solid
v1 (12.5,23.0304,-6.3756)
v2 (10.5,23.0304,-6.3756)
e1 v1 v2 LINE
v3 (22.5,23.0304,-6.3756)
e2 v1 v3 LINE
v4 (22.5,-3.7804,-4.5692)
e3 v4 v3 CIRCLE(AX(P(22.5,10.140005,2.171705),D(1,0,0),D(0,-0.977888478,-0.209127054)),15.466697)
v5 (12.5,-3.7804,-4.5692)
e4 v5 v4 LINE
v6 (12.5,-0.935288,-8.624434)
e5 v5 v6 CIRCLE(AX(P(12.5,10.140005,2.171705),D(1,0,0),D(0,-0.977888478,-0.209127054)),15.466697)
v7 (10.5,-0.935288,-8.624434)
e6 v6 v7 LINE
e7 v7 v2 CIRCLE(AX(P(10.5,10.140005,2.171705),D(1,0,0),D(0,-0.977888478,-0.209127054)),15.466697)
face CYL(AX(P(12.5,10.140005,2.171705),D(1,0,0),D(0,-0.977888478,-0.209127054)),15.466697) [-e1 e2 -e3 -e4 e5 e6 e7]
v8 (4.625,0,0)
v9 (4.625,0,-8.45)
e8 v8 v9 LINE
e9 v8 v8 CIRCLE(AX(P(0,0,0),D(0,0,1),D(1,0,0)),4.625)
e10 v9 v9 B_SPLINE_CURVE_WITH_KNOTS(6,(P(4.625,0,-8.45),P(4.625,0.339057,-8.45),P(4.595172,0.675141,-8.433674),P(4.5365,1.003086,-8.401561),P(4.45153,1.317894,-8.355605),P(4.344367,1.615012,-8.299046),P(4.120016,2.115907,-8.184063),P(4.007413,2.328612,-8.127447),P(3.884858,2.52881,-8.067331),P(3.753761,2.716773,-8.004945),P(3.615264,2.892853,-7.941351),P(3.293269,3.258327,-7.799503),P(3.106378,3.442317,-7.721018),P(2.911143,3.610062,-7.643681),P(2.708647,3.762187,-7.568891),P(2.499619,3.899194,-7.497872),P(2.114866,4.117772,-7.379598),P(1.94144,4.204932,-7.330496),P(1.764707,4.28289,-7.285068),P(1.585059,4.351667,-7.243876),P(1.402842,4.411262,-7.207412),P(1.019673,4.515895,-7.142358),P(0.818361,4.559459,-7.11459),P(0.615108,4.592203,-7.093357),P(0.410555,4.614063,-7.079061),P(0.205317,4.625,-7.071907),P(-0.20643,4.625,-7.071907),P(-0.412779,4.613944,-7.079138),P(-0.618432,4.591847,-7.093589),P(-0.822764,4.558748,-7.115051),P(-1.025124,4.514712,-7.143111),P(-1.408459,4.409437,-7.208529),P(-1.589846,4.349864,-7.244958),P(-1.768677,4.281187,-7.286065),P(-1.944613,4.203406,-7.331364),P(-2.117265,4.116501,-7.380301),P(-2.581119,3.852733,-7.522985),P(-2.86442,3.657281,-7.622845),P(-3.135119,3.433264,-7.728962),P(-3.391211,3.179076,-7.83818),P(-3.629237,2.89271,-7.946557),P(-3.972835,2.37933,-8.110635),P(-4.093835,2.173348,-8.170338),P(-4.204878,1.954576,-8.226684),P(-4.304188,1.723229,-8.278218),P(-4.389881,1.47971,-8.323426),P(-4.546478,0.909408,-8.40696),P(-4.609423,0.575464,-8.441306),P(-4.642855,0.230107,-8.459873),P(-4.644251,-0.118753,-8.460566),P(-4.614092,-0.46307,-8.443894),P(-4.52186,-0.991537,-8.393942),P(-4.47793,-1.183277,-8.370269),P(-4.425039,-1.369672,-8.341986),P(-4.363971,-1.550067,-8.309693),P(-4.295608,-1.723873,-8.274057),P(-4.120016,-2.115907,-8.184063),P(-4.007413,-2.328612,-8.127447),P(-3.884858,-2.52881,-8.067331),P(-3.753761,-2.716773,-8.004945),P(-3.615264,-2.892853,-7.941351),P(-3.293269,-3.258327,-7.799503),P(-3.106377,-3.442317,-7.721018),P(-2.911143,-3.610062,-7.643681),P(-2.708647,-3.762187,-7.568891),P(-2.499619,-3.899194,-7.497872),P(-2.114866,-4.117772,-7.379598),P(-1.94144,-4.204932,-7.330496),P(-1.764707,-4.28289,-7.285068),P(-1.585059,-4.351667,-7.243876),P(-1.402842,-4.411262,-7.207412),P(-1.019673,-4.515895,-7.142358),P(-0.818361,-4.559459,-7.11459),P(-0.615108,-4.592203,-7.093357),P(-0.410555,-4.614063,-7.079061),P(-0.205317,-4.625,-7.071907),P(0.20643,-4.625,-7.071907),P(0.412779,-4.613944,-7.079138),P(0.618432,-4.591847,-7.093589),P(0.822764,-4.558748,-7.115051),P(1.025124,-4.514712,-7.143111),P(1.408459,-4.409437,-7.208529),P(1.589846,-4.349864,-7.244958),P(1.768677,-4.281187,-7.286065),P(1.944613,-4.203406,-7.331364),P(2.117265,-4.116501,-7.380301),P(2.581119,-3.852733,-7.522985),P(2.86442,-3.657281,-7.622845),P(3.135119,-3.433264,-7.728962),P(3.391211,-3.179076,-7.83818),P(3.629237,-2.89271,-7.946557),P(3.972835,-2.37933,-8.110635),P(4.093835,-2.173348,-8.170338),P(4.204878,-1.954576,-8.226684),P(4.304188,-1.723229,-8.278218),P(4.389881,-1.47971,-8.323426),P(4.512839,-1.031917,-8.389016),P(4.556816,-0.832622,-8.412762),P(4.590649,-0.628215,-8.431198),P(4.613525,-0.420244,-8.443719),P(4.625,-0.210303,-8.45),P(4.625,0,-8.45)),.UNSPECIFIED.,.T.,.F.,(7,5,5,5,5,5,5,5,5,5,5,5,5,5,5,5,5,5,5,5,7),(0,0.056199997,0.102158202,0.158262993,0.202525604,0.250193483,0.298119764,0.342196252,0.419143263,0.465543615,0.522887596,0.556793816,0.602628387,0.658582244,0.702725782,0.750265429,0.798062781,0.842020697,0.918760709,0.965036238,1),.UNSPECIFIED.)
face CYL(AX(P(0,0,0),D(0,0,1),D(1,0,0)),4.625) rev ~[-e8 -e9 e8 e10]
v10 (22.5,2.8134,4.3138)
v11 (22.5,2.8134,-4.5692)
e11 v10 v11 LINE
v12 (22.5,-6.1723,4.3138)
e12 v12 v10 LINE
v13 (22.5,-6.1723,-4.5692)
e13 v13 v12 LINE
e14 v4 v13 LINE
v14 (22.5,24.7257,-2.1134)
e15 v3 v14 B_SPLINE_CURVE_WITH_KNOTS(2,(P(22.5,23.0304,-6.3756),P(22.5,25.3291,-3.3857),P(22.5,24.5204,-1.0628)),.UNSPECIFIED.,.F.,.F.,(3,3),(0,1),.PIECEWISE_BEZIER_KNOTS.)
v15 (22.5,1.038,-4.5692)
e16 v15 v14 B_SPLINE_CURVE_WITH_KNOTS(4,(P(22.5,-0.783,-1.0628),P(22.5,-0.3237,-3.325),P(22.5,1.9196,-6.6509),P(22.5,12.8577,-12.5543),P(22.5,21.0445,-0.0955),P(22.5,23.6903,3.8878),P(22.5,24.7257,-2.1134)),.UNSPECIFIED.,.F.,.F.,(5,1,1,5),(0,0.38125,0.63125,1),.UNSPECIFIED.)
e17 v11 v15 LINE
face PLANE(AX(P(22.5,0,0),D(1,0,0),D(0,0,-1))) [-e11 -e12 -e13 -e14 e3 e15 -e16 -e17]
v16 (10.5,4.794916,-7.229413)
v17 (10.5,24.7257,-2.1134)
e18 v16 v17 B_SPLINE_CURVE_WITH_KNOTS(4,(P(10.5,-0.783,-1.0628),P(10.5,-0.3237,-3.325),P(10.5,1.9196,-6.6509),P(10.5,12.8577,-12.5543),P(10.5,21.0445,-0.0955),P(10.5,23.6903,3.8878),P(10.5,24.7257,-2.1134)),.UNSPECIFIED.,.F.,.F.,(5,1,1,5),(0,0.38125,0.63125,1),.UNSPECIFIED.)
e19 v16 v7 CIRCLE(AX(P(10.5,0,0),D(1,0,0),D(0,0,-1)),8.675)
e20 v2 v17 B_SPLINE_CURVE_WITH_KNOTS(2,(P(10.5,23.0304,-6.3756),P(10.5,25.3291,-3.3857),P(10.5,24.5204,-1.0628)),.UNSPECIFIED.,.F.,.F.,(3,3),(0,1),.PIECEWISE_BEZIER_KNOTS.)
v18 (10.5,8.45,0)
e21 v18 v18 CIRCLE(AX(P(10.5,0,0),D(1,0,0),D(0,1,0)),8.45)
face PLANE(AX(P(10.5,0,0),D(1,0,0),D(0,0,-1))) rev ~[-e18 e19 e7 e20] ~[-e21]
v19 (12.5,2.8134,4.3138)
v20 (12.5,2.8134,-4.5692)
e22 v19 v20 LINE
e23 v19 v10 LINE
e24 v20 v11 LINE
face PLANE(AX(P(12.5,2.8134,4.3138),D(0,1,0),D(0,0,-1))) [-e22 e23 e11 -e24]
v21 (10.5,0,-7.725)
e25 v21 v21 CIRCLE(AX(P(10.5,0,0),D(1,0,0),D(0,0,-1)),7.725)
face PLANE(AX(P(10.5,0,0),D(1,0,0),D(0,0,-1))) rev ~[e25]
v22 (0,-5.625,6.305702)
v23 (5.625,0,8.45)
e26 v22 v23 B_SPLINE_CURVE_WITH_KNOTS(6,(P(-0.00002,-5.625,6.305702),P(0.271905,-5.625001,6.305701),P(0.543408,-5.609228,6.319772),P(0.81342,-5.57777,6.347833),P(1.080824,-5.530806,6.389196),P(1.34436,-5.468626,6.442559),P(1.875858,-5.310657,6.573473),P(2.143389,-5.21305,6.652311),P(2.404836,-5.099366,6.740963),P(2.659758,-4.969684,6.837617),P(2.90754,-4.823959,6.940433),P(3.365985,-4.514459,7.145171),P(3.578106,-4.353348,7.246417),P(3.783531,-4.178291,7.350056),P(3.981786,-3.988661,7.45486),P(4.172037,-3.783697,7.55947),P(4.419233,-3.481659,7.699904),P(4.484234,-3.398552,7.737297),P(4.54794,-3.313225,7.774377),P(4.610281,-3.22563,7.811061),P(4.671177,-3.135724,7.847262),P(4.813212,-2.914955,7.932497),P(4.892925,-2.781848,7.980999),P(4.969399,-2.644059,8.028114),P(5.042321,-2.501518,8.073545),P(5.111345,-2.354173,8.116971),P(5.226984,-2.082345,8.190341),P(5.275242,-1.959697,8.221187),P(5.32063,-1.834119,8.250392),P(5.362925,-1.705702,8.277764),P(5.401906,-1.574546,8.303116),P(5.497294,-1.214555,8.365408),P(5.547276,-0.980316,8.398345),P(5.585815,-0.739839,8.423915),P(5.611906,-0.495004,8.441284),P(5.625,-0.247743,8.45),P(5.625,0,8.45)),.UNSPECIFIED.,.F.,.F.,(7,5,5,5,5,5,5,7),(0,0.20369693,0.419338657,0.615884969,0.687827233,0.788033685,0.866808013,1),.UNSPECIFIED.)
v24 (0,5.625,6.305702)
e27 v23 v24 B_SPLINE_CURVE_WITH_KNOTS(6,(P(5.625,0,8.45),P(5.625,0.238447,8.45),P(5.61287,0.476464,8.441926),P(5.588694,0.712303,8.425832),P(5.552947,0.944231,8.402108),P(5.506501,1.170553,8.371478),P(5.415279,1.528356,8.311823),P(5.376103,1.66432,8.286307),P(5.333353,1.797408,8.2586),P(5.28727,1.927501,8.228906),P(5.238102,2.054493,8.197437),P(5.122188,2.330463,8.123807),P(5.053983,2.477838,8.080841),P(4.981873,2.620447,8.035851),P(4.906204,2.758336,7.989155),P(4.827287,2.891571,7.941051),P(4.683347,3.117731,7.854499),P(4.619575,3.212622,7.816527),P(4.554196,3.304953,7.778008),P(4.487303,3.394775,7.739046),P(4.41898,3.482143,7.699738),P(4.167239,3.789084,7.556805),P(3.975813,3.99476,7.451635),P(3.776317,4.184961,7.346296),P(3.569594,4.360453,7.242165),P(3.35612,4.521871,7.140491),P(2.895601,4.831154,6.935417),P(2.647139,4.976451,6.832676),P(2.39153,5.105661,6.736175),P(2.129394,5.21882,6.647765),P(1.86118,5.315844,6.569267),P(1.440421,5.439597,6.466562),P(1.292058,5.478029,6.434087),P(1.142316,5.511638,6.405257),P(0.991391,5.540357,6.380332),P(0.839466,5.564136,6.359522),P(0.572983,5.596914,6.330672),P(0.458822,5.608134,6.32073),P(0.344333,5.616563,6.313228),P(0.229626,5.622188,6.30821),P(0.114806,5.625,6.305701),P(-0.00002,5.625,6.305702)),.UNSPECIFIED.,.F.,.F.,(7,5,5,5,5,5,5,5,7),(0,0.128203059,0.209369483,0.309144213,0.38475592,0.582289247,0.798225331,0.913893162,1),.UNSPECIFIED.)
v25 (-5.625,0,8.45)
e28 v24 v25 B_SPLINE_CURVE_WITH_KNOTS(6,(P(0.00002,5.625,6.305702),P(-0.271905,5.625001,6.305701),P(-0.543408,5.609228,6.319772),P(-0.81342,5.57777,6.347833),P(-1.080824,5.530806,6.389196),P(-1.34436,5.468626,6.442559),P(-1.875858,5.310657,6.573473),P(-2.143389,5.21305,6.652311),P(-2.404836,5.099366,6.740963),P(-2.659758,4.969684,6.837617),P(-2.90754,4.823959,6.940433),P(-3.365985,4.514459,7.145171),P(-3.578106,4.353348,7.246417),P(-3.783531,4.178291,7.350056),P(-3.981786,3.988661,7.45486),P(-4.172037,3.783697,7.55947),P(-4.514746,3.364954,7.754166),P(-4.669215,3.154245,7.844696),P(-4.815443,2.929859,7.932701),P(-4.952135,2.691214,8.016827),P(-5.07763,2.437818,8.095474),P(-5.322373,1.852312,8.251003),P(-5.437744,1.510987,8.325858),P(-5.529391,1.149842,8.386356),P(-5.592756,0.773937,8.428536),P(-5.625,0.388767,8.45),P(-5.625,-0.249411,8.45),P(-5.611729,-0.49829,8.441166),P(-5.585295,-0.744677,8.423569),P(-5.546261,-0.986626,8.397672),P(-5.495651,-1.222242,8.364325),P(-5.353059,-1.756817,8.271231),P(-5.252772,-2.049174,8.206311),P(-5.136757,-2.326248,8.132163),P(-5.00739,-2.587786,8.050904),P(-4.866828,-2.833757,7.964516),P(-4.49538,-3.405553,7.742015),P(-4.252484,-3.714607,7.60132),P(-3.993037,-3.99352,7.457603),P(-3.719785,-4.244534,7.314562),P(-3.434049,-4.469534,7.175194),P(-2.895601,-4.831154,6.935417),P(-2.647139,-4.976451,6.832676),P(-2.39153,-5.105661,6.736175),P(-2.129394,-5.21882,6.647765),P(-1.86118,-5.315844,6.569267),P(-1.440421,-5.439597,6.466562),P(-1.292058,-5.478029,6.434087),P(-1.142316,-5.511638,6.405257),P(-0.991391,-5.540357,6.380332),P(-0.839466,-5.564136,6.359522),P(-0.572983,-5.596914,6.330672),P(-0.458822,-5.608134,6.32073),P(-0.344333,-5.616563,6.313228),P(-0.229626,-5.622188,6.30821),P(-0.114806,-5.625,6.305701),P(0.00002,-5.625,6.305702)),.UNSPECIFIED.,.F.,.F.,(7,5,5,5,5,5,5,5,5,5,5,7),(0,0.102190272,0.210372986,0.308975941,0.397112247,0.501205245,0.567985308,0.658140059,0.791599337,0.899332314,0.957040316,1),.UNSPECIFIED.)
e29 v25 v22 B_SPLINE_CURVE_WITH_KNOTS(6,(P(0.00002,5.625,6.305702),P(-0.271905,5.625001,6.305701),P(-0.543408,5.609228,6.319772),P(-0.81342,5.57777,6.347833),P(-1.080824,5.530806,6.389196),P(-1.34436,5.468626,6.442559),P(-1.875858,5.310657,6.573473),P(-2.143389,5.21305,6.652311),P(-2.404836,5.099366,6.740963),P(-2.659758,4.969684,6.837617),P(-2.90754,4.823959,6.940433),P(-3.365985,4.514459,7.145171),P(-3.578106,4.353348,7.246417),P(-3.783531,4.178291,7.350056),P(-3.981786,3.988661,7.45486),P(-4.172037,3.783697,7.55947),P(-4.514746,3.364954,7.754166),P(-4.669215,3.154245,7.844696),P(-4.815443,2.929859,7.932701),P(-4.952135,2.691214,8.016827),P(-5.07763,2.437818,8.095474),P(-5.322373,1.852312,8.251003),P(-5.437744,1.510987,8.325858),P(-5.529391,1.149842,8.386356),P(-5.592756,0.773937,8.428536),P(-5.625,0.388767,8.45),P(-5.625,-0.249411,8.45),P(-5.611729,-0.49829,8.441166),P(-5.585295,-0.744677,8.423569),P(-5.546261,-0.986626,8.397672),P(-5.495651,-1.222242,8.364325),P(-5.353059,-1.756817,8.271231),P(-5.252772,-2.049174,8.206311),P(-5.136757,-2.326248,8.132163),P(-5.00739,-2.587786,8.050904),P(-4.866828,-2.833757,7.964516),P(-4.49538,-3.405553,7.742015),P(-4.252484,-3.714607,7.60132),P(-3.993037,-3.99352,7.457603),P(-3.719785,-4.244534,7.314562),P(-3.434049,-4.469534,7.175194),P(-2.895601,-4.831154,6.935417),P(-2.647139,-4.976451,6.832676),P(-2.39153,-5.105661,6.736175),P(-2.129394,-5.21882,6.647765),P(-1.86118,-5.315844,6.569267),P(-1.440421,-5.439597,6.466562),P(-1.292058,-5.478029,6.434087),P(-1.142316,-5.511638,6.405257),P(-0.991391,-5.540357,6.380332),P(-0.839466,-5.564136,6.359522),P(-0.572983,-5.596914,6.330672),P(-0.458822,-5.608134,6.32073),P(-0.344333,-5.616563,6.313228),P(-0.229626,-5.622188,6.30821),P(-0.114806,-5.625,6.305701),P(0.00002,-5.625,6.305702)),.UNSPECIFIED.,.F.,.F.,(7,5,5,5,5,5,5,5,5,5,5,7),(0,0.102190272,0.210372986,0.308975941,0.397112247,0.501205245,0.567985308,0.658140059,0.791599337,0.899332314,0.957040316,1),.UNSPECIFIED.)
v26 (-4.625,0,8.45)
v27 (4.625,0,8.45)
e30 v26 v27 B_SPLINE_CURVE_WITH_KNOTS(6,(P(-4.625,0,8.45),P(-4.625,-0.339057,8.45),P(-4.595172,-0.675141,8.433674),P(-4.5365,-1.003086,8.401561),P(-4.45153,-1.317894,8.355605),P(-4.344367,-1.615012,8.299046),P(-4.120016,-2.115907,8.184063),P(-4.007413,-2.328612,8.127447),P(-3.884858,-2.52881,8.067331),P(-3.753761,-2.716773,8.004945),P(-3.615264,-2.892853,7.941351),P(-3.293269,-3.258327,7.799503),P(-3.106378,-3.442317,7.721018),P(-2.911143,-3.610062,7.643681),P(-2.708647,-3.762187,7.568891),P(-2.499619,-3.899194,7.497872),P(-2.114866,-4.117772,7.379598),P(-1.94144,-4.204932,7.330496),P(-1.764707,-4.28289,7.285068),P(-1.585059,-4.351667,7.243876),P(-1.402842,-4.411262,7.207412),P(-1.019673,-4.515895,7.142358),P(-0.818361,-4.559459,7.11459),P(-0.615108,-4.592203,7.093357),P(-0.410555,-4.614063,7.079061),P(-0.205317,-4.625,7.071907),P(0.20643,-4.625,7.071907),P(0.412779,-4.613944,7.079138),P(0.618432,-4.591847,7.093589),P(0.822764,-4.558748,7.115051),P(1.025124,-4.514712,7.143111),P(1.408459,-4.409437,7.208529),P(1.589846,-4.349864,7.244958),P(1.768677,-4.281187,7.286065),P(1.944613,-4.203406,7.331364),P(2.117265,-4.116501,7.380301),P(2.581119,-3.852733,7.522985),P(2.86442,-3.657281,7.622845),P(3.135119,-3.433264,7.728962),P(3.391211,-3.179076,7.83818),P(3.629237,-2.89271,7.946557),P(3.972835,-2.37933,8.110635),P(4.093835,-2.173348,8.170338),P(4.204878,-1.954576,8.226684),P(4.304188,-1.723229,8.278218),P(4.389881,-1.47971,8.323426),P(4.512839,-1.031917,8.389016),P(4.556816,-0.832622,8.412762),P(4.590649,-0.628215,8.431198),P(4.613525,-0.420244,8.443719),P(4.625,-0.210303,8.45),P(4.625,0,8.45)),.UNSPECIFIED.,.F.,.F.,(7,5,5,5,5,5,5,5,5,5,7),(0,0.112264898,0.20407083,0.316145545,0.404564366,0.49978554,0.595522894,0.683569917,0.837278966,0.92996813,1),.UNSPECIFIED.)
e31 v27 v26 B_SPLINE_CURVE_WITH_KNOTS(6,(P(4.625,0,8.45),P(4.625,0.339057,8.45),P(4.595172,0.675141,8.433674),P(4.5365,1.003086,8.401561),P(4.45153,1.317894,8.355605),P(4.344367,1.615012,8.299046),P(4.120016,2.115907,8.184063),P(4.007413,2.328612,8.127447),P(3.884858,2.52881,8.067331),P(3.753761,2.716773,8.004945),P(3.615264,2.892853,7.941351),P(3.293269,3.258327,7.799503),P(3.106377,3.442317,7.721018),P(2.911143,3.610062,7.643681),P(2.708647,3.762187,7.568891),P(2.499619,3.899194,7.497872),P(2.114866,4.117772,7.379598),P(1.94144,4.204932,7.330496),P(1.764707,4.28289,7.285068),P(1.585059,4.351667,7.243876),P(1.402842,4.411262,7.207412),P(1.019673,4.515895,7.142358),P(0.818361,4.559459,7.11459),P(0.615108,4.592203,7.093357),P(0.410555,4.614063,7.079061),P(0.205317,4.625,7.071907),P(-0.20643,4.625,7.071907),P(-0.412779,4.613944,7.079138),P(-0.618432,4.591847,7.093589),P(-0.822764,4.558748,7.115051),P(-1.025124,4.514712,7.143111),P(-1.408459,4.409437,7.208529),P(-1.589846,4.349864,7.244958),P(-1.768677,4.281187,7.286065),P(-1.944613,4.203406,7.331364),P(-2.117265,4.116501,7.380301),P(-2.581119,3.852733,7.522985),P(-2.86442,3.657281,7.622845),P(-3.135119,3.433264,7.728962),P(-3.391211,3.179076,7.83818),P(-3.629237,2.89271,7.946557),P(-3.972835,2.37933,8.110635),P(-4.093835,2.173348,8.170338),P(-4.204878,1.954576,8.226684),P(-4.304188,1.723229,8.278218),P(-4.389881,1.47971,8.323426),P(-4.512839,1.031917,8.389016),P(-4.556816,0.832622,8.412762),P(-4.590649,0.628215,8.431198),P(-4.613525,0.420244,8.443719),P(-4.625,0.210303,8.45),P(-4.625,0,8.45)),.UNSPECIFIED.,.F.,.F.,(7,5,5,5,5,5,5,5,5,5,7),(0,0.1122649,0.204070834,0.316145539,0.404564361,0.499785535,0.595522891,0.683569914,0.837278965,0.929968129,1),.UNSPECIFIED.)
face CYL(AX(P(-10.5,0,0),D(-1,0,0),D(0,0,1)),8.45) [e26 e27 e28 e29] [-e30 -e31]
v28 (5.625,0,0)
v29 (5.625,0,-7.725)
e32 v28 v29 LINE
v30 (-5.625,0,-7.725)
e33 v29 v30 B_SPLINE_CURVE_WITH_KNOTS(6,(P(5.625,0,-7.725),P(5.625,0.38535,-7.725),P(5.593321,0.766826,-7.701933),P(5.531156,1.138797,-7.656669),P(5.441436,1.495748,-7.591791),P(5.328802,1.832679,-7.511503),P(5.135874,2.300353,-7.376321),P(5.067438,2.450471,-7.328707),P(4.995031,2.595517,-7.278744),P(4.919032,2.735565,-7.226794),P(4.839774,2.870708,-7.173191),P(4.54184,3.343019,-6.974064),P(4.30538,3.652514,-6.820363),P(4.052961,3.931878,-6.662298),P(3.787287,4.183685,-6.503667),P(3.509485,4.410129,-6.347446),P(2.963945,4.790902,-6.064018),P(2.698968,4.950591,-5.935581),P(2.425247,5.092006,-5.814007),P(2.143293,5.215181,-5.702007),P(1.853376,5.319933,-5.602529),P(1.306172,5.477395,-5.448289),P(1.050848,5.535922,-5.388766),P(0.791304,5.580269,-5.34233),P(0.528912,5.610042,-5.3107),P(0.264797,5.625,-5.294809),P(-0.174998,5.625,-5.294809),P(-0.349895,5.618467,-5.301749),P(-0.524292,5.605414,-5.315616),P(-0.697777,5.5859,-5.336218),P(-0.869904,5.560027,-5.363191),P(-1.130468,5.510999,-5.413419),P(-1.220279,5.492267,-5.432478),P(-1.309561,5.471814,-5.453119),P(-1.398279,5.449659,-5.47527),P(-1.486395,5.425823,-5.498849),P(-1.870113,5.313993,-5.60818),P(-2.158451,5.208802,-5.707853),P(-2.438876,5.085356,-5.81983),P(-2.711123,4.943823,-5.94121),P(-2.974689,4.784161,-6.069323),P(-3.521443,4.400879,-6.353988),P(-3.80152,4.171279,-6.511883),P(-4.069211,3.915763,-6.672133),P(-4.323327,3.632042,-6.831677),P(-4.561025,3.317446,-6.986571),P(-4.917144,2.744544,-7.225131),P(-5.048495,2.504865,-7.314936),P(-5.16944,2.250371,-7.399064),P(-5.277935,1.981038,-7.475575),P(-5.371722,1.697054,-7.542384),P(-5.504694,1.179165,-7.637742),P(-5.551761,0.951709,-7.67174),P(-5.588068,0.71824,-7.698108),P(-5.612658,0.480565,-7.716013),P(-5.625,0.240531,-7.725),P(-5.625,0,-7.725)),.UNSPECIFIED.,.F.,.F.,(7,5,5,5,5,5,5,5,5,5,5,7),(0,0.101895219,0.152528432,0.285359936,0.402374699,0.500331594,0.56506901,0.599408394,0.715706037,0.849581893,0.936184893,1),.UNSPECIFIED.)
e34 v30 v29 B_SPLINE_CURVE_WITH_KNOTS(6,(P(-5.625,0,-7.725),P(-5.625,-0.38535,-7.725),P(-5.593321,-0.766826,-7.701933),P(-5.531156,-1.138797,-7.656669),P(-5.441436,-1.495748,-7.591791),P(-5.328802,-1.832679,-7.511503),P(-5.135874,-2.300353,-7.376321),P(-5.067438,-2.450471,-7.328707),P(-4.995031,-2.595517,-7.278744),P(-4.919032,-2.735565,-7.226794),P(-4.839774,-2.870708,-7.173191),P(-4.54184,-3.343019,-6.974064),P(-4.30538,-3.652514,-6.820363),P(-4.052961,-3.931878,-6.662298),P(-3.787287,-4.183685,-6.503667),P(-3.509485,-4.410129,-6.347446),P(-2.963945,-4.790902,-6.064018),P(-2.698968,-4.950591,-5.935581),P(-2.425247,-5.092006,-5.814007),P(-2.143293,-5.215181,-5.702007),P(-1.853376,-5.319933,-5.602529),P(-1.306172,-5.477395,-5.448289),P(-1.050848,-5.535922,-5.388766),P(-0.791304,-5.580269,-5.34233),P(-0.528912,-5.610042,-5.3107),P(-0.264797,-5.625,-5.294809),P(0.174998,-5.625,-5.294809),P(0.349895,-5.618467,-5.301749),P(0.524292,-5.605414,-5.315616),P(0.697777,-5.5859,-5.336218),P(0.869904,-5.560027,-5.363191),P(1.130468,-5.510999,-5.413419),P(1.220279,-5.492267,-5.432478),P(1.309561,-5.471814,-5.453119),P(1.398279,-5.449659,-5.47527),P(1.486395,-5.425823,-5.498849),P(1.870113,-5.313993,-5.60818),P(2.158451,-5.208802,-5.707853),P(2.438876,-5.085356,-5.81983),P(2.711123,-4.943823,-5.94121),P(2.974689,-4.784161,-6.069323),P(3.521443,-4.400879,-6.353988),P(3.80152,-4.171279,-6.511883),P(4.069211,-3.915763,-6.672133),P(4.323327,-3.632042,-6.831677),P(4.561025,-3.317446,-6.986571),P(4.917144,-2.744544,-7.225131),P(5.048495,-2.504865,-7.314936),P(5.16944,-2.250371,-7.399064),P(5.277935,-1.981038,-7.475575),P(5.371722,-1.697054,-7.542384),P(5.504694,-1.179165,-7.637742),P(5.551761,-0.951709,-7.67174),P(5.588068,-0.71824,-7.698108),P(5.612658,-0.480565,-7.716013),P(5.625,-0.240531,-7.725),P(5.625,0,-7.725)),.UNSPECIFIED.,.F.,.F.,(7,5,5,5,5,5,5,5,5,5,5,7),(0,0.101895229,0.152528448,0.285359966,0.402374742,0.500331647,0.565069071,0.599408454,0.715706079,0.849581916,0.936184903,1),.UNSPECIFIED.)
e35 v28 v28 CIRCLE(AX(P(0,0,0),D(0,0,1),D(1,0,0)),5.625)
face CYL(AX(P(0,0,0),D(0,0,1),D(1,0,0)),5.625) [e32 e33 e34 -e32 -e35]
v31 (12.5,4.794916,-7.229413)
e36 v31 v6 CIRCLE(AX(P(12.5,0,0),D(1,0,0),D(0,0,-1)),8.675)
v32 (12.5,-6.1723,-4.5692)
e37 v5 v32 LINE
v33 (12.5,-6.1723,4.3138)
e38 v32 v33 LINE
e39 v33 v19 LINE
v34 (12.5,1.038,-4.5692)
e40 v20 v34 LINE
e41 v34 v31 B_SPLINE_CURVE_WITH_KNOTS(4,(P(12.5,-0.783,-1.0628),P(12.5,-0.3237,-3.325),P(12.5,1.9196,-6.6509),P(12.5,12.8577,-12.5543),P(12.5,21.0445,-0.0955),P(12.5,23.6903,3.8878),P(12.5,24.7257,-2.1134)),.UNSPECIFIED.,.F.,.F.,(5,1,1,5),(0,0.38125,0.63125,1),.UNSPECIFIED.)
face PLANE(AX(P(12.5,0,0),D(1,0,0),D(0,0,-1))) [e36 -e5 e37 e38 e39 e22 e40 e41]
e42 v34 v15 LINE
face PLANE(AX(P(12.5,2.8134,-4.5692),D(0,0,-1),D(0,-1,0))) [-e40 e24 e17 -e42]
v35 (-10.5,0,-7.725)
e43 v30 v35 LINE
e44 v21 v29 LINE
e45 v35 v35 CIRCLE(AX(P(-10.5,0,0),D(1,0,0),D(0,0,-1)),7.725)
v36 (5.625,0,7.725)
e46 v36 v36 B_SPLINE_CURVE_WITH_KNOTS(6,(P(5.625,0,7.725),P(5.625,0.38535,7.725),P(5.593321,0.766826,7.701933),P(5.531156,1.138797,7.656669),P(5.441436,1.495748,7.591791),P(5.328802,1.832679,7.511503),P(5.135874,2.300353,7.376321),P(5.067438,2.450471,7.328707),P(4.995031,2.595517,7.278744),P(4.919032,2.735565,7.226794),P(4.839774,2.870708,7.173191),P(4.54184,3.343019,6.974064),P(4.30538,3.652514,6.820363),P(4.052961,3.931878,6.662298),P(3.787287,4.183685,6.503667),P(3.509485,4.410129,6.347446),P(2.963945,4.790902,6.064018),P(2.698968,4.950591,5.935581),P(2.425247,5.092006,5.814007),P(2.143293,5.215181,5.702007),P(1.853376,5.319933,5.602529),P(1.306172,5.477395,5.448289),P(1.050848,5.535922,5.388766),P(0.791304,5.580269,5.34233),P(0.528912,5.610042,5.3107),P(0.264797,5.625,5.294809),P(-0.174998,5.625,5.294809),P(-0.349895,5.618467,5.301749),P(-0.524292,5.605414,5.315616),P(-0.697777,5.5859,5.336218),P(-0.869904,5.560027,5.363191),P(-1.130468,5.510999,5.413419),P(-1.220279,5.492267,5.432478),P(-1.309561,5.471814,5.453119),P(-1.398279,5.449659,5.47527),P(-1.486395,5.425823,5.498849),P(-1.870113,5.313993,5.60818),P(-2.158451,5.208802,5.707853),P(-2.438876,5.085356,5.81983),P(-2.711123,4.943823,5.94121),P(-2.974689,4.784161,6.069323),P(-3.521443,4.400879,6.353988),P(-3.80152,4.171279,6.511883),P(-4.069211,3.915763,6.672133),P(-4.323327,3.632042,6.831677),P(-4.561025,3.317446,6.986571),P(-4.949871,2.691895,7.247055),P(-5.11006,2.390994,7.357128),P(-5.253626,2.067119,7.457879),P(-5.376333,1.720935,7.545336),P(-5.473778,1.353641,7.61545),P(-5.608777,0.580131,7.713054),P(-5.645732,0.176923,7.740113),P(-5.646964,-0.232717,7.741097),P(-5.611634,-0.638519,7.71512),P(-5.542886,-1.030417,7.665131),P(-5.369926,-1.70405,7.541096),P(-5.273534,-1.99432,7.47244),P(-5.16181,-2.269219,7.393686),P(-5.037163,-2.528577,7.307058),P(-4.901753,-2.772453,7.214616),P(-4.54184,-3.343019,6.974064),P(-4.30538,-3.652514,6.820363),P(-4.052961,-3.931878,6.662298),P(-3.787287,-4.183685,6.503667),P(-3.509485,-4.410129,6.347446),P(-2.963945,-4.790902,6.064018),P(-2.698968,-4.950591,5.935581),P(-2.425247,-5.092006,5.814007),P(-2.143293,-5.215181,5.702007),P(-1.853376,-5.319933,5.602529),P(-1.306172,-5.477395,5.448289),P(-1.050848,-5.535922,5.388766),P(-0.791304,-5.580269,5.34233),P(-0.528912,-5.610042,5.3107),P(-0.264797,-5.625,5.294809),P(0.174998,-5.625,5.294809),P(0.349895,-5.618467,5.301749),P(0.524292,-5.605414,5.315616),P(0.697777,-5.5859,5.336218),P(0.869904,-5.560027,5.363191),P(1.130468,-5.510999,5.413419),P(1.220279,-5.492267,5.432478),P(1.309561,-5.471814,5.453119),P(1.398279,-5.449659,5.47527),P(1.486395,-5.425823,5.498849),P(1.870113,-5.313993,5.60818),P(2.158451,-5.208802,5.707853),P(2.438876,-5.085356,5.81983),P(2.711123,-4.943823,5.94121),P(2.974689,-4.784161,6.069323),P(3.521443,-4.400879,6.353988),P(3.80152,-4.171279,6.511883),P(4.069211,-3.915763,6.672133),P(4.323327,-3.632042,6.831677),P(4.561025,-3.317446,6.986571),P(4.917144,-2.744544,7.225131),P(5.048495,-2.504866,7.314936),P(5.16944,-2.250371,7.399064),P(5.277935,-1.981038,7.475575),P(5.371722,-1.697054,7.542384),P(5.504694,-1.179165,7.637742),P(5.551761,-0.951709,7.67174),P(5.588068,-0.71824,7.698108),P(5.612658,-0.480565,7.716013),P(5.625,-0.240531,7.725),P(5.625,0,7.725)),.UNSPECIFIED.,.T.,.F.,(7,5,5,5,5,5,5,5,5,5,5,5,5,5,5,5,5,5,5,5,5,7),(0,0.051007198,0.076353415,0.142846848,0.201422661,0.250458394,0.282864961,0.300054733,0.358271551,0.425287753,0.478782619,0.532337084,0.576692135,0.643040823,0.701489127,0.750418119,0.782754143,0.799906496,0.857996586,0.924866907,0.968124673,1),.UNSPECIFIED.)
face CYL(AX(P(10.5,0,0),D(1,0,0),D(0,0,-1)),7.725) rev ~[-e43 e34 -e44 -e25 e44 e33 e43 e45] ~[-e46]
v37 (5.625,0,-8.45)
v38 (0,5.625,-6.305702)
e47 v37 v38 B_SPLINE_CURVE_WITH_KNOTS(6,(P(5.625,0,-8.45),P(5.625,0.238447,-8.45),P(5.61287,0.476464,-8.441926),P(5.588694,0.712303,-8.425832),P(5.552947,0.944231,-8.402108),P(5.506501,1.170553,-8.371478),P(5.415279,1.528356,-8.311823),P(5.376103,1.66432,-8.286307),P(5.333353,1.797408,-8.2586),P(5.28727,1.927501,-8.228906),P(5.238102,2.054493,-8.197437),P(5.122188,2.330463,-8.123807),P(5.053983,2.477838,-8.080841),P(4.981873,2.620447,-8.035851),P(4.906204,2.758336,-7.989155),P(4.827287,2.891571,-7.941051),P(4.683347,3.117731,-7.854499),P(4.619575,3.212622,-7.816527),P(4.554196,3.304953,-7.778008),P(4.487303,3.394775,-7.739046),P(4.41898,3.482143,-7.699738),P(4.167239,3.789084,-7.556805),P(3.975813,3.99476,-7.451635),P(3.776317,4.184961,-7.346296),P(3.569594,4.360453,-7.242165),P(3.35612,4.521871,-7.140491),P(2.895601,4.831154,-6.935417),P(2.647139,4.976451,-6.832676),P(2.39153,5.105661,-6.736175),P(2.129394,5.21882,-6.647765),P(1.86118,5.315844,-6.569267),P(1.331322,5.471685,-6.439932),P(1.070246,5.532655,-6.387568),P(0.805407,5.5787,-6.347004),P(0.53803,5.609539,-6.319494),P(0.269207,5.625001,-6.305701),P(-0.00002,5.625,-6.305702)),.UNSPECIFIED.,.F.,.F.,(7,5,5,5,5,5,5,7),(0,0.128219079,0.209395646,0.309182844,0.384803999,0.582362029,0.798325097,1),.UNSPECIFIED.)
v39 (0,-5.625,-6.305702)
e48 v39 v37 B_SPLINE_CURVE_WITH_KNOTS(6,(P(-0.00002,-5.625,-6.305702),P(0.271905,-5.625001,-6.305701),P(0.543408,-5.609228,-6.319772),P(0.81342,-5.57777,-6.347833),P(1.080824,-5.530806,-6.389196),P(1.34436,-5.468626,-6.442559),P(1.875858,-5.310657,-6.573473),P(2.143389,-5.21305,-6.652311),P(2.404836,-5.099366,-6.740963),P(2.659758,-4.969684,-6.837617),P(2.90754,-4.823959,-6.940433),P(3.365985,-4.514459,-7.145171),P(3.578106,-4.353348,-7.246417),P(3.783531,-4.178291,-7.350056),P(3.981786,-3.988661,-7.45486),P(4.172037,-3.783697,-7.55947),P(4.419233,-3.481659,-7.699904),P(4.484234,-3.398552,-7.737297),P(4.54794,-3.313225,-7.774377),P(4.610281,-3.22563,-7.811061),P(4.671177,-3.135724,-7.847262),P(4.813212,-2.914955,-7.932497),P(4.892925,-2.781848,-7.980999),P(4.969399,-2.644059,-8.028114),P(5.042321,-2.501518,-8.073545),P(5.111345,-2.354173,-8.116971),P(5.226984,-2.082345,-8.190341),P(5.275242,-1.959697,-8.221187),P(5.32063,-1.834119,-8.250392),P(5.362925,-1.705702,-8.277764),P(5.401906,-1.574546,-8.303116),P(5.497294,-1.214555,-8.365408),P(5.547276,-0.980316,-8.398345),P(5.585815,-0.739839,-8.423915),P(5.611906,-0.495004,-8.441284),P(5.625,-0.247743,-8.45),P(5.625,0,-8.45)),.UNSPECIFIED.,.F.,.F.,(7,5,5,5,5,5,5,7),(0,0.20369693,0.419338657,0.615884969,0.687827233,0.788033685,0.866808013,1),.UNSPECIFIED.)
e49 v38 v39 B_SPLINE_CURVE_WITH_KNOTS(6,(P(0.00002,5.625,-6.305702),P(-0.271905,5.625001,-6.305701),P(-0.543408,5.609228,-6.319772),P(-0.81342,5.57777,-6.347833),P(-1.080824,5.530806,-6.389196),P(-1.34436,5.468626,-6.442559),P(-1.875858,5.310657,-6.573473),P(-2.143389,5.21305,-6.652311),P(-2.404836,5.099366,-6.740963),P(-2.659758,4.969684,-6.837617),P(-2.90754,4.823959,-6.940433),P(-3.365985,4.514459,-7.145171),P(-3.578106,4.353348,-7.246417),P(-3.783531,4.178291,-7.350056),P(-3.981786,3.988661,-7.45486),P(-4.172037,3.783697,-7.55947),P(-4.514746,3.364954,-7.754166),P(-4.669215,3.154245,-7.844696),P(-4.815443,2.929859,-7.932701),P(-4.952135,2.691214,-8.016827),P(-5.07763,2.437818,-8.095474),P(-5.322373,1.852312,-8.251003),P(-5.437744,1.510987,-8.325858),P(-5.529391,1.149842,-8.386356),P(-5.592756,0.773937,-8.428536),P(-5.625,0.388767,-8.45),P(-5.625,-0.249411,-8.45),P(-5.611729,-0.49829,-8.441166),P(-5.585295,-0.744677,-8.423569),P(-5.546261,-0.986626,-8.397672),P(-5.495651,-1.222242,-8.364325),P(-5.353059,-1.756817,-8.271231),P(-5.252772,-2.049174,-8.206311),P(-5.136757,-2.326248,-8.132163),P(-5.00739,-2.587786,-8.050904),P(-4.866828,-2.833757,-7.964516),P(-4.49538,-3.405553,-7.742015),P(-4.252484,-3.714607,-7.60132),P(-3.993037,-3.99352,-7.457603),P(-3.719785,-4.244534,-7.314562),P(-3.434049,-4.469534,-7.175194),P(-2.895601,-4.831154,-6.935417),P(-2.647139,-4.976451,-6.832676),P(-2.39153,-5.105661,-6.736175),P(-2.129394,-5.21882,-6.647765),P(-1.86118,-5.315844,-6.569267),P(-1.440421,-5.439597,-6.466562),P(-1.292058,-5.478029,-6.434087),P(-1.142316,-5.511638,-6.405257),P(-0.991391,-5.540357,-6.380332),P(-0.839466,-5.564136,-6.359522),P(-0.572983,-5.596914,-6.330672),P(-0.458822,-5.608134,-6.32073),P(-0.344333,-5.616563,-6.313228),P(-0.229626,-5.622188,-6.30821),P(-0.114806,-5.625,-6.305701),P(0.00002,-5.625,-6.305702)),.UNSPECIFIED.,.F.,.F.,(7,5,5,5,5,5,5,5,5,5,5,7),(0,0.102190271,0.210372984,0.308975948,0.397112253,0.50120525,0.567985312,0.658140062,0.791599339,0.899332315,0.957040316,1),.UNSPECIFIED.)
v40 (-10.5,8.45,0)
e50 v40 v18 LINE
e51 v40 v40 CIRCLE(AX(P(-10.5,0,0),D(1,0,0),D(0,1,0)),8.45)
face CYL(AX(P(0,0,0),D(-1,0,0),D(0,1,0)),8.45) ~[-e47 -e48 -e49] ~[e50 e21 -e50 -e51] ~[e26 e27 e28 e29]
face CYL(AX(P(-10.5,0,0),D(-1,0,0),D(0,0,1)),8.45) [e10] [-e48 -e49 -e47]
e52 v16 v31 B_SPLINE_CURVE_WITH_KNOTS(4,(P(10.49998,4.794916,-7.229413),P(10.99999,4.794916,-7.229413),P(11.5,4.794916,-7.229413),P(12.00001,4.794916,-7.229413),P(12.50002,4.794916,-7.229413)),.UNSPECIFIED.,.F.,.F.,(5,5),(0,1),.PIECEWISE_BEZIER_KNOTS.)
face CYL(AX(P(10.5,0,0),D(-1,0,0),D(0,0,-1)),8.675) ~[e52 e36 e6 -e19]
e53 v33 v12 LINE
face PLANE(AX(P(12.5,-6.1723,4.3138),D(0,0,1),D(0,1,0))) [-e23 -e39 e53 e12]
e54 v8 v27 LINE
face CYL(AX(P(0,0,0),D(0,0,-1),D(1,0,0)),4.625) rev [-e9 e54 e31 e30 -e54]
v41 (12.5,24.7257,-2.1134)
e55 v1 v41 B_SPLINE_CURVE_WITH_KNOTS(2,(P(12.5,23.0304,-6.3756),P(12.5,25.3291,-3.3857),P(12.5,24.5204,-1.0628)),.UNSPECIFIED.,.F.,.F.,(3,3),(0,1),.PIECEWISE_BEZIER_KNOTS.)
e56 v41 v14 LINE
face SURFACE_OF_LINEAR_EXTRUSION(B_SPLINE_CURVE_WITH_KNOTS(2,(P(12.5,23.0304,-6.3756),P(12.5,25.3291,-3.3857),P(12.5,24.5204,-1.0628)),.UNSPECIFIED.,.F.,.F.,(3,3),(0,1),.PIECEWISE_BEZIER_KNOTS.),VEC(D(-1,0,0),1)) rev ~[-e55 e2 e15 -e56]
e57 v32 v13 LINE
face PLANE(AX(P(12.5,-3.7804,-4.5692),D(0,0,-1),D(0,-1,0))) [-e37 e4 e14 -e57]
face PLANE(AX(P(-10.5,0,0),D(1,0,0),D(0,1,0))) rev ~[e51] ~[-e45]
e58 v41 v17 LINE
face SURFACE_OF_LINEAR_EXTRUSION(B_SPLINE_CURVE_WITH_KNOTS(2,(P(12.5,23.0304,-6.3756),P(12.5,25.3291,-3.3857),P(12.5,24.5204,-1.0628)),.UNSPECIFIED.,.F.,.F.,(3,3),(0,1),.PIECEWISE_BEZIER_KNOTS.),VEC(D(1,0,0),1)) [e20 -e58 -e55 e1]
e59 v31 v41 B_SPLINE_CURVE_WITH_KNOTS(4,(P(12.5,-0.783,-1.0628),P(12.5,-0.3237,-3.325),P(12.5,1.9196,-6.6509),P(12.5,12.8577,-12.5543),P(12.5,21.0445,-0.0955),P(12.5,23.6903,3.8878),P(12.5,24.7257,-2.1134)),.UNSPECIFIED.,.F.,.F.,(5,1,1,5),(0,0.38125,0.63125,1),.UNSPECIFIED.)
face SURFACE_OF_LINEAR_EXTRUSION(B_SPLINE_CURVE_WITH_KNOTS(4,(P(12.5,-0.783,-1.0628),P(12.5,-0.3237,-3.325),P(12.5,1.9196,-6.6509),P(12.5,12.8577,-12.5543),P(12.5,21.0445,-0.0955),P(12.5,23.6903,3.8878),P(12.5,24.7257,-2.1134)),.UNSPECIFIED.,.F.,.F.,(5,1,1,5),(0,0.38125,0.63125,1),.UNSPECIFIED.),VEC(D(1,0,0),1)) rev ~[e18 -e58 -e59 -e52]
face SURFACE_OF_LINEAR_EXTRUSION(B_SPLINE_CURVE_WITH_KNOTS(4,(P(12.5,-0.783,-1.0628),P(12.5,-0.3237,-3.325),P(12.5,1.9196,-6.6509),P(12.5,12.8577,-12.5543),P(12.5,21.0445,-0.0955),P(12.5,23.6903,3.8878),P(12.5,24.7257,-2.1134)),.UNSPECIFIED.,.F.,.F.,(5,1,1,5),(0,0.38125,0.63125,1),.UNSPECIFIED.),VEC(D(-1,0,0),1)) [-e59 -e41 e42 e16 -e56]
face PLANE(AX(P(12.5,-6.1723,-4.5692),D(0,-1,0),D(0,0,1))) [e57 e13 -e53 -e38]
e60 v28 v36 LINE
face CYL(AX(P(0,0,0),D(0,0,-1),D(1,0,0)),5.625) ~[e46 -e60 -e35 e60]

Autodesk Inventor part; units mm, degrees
ref_plane "YZ Plane" through (0, 0, 0) normal (1, 0, 0) x (0, 1, 0)
ref_plane "XZ Plane" through (0, 0, 0) normal (0, 1, 0) x (-1, 0, 0)
ref_plane "XY Plane" through (0, 0, 0) normal (0, 0, 1) x (1, 0, 0)
sketch "Sketch1" plane through (0, 0, 0) normal (1, 0, 0) x (0, 1, 0)
  circle A0 centre (0, 0) radius 8.45
  dimension "d0" = 16.9
extrude "Extrusion1" add sketch "Sketch1" along normal mid plane 21
sketch "Sketch2" plane through (10.5, 0, 0) normal (1, 0, 0) x (0, 0, -1)
  circle A0 centre (0, 0) radius 7.725
  circle A1 centre (0, 0) radius 9.725
  dimension "d3" = 2
  dimension "d4" = 19.45
extrude "Extrusion2" cut sketch "Sketch2" against normal blind 21.5 contours A0
sketch "Sketch3" plane through (0, 0, 0) normal (0, 0, 1) x (1, 0, 0)
  circle A0 centre (0, 0) radius 5.625
  dimension "d7" = 11.25
extrude "Extrusion3" add sketch "Sketch3" along normal mid plane 18
sketch "Sketch4" plane through (0, 0, 0) normal (0, 0, 1) x (1, 0, 0)
  circle A0 centre (0, 0) radius 4.625
  dimension "d10" = 9.25
extrude "Extrusion5" cut sketch "Sketch4" along normal mid plane 100
sketch "Sketch5" plane through (10.5, 0, 0) normal (1, 0, 0) x (0, 0, -1)
  circle A0 centre (0, 0) radius 8.675
  dimension "d15" = 17.35
extrude "Extrusion6" add sketch "Sketch5" along normal blind 2
sketch "Sketch6" plane through (12.5, 0, 0) normal (1, 0, 0) x (0, 0, -1)
  arc A0 (1.0628, -4.9847) -> (6.3756, 23.0304) centre (-2.1717, 10.14) ccw
  spline S0 degree 4 poles (1.0628, -0.783) (3.325, -0.3237) (6.6509, 1.9196) (12.5543, 12.8577) (0.0955, 21.0445) (-3.8878, 23.6903) (2.1134, 24.7257) knots 0 0 0 0 0 0.38125 0.63125 1 1 1 1 1
  line L0 (-1.8785, -1.3802) -> (4.0041, -0.1858) construction
  arc A1 (-1.2523, -0.8951) -> (3.2382, 0.0167) centre (-0.4606, 6.7196) ccw construction
  spline S1 degree 2 poles (6.3756, 23.0304) (3.3857, 25.3291) (1.0628, 24.5204) knots 0 0 0 1 1 1
  line L1 (-6.8176, 23.1848) -> (11.0445, 26.2665) construction
  arc A2 (9.1477, 24.9445) -> (-4.5875, 22.5748) centre (6.4085, -0.169) ccw construction
  line L2 (-4.3138, 2.8134) -> (4.5692, 2.8134)
  line L3 (4.5692, -6.1723) -> (-4.3138, -6.1723)
  line L4 (-4.3138, -6.1723) -> (-4.3138, 2.8134)
  line L5 (4.5692, 2.8134) -> (4.5692, 1.038)
  line L6 (4.5692, -3.7804) -> (4.5692, -6.1723)
  point P0 (0, 0)
  point P1 (-0.6365, 21.8121)
  point P2 (1.0628, -0.783)
  point P3 (3.2364, 24.6304)
  point P4 (2.1134, 24.7257)
  point P5 (2.1133, 24.7254)
  point P6 (1.0633, 24.5166)
extrude "Extrusion7" add sketch "Sketch6" along normal blind 10 and the other way blind 2
sketch "Sketch7" plane through (-10.5, 0, 0) normal (-1, 0, 0) x (0, 0, 1)
  circle A0 centre (0, 0) radius 8.45
  circle A1 centre (0, 0) radius 11.1999
  dimension "d23" = 16.9
extrude "Extrusion8" cut sketch "Sketch7" against normal blind 17.75
